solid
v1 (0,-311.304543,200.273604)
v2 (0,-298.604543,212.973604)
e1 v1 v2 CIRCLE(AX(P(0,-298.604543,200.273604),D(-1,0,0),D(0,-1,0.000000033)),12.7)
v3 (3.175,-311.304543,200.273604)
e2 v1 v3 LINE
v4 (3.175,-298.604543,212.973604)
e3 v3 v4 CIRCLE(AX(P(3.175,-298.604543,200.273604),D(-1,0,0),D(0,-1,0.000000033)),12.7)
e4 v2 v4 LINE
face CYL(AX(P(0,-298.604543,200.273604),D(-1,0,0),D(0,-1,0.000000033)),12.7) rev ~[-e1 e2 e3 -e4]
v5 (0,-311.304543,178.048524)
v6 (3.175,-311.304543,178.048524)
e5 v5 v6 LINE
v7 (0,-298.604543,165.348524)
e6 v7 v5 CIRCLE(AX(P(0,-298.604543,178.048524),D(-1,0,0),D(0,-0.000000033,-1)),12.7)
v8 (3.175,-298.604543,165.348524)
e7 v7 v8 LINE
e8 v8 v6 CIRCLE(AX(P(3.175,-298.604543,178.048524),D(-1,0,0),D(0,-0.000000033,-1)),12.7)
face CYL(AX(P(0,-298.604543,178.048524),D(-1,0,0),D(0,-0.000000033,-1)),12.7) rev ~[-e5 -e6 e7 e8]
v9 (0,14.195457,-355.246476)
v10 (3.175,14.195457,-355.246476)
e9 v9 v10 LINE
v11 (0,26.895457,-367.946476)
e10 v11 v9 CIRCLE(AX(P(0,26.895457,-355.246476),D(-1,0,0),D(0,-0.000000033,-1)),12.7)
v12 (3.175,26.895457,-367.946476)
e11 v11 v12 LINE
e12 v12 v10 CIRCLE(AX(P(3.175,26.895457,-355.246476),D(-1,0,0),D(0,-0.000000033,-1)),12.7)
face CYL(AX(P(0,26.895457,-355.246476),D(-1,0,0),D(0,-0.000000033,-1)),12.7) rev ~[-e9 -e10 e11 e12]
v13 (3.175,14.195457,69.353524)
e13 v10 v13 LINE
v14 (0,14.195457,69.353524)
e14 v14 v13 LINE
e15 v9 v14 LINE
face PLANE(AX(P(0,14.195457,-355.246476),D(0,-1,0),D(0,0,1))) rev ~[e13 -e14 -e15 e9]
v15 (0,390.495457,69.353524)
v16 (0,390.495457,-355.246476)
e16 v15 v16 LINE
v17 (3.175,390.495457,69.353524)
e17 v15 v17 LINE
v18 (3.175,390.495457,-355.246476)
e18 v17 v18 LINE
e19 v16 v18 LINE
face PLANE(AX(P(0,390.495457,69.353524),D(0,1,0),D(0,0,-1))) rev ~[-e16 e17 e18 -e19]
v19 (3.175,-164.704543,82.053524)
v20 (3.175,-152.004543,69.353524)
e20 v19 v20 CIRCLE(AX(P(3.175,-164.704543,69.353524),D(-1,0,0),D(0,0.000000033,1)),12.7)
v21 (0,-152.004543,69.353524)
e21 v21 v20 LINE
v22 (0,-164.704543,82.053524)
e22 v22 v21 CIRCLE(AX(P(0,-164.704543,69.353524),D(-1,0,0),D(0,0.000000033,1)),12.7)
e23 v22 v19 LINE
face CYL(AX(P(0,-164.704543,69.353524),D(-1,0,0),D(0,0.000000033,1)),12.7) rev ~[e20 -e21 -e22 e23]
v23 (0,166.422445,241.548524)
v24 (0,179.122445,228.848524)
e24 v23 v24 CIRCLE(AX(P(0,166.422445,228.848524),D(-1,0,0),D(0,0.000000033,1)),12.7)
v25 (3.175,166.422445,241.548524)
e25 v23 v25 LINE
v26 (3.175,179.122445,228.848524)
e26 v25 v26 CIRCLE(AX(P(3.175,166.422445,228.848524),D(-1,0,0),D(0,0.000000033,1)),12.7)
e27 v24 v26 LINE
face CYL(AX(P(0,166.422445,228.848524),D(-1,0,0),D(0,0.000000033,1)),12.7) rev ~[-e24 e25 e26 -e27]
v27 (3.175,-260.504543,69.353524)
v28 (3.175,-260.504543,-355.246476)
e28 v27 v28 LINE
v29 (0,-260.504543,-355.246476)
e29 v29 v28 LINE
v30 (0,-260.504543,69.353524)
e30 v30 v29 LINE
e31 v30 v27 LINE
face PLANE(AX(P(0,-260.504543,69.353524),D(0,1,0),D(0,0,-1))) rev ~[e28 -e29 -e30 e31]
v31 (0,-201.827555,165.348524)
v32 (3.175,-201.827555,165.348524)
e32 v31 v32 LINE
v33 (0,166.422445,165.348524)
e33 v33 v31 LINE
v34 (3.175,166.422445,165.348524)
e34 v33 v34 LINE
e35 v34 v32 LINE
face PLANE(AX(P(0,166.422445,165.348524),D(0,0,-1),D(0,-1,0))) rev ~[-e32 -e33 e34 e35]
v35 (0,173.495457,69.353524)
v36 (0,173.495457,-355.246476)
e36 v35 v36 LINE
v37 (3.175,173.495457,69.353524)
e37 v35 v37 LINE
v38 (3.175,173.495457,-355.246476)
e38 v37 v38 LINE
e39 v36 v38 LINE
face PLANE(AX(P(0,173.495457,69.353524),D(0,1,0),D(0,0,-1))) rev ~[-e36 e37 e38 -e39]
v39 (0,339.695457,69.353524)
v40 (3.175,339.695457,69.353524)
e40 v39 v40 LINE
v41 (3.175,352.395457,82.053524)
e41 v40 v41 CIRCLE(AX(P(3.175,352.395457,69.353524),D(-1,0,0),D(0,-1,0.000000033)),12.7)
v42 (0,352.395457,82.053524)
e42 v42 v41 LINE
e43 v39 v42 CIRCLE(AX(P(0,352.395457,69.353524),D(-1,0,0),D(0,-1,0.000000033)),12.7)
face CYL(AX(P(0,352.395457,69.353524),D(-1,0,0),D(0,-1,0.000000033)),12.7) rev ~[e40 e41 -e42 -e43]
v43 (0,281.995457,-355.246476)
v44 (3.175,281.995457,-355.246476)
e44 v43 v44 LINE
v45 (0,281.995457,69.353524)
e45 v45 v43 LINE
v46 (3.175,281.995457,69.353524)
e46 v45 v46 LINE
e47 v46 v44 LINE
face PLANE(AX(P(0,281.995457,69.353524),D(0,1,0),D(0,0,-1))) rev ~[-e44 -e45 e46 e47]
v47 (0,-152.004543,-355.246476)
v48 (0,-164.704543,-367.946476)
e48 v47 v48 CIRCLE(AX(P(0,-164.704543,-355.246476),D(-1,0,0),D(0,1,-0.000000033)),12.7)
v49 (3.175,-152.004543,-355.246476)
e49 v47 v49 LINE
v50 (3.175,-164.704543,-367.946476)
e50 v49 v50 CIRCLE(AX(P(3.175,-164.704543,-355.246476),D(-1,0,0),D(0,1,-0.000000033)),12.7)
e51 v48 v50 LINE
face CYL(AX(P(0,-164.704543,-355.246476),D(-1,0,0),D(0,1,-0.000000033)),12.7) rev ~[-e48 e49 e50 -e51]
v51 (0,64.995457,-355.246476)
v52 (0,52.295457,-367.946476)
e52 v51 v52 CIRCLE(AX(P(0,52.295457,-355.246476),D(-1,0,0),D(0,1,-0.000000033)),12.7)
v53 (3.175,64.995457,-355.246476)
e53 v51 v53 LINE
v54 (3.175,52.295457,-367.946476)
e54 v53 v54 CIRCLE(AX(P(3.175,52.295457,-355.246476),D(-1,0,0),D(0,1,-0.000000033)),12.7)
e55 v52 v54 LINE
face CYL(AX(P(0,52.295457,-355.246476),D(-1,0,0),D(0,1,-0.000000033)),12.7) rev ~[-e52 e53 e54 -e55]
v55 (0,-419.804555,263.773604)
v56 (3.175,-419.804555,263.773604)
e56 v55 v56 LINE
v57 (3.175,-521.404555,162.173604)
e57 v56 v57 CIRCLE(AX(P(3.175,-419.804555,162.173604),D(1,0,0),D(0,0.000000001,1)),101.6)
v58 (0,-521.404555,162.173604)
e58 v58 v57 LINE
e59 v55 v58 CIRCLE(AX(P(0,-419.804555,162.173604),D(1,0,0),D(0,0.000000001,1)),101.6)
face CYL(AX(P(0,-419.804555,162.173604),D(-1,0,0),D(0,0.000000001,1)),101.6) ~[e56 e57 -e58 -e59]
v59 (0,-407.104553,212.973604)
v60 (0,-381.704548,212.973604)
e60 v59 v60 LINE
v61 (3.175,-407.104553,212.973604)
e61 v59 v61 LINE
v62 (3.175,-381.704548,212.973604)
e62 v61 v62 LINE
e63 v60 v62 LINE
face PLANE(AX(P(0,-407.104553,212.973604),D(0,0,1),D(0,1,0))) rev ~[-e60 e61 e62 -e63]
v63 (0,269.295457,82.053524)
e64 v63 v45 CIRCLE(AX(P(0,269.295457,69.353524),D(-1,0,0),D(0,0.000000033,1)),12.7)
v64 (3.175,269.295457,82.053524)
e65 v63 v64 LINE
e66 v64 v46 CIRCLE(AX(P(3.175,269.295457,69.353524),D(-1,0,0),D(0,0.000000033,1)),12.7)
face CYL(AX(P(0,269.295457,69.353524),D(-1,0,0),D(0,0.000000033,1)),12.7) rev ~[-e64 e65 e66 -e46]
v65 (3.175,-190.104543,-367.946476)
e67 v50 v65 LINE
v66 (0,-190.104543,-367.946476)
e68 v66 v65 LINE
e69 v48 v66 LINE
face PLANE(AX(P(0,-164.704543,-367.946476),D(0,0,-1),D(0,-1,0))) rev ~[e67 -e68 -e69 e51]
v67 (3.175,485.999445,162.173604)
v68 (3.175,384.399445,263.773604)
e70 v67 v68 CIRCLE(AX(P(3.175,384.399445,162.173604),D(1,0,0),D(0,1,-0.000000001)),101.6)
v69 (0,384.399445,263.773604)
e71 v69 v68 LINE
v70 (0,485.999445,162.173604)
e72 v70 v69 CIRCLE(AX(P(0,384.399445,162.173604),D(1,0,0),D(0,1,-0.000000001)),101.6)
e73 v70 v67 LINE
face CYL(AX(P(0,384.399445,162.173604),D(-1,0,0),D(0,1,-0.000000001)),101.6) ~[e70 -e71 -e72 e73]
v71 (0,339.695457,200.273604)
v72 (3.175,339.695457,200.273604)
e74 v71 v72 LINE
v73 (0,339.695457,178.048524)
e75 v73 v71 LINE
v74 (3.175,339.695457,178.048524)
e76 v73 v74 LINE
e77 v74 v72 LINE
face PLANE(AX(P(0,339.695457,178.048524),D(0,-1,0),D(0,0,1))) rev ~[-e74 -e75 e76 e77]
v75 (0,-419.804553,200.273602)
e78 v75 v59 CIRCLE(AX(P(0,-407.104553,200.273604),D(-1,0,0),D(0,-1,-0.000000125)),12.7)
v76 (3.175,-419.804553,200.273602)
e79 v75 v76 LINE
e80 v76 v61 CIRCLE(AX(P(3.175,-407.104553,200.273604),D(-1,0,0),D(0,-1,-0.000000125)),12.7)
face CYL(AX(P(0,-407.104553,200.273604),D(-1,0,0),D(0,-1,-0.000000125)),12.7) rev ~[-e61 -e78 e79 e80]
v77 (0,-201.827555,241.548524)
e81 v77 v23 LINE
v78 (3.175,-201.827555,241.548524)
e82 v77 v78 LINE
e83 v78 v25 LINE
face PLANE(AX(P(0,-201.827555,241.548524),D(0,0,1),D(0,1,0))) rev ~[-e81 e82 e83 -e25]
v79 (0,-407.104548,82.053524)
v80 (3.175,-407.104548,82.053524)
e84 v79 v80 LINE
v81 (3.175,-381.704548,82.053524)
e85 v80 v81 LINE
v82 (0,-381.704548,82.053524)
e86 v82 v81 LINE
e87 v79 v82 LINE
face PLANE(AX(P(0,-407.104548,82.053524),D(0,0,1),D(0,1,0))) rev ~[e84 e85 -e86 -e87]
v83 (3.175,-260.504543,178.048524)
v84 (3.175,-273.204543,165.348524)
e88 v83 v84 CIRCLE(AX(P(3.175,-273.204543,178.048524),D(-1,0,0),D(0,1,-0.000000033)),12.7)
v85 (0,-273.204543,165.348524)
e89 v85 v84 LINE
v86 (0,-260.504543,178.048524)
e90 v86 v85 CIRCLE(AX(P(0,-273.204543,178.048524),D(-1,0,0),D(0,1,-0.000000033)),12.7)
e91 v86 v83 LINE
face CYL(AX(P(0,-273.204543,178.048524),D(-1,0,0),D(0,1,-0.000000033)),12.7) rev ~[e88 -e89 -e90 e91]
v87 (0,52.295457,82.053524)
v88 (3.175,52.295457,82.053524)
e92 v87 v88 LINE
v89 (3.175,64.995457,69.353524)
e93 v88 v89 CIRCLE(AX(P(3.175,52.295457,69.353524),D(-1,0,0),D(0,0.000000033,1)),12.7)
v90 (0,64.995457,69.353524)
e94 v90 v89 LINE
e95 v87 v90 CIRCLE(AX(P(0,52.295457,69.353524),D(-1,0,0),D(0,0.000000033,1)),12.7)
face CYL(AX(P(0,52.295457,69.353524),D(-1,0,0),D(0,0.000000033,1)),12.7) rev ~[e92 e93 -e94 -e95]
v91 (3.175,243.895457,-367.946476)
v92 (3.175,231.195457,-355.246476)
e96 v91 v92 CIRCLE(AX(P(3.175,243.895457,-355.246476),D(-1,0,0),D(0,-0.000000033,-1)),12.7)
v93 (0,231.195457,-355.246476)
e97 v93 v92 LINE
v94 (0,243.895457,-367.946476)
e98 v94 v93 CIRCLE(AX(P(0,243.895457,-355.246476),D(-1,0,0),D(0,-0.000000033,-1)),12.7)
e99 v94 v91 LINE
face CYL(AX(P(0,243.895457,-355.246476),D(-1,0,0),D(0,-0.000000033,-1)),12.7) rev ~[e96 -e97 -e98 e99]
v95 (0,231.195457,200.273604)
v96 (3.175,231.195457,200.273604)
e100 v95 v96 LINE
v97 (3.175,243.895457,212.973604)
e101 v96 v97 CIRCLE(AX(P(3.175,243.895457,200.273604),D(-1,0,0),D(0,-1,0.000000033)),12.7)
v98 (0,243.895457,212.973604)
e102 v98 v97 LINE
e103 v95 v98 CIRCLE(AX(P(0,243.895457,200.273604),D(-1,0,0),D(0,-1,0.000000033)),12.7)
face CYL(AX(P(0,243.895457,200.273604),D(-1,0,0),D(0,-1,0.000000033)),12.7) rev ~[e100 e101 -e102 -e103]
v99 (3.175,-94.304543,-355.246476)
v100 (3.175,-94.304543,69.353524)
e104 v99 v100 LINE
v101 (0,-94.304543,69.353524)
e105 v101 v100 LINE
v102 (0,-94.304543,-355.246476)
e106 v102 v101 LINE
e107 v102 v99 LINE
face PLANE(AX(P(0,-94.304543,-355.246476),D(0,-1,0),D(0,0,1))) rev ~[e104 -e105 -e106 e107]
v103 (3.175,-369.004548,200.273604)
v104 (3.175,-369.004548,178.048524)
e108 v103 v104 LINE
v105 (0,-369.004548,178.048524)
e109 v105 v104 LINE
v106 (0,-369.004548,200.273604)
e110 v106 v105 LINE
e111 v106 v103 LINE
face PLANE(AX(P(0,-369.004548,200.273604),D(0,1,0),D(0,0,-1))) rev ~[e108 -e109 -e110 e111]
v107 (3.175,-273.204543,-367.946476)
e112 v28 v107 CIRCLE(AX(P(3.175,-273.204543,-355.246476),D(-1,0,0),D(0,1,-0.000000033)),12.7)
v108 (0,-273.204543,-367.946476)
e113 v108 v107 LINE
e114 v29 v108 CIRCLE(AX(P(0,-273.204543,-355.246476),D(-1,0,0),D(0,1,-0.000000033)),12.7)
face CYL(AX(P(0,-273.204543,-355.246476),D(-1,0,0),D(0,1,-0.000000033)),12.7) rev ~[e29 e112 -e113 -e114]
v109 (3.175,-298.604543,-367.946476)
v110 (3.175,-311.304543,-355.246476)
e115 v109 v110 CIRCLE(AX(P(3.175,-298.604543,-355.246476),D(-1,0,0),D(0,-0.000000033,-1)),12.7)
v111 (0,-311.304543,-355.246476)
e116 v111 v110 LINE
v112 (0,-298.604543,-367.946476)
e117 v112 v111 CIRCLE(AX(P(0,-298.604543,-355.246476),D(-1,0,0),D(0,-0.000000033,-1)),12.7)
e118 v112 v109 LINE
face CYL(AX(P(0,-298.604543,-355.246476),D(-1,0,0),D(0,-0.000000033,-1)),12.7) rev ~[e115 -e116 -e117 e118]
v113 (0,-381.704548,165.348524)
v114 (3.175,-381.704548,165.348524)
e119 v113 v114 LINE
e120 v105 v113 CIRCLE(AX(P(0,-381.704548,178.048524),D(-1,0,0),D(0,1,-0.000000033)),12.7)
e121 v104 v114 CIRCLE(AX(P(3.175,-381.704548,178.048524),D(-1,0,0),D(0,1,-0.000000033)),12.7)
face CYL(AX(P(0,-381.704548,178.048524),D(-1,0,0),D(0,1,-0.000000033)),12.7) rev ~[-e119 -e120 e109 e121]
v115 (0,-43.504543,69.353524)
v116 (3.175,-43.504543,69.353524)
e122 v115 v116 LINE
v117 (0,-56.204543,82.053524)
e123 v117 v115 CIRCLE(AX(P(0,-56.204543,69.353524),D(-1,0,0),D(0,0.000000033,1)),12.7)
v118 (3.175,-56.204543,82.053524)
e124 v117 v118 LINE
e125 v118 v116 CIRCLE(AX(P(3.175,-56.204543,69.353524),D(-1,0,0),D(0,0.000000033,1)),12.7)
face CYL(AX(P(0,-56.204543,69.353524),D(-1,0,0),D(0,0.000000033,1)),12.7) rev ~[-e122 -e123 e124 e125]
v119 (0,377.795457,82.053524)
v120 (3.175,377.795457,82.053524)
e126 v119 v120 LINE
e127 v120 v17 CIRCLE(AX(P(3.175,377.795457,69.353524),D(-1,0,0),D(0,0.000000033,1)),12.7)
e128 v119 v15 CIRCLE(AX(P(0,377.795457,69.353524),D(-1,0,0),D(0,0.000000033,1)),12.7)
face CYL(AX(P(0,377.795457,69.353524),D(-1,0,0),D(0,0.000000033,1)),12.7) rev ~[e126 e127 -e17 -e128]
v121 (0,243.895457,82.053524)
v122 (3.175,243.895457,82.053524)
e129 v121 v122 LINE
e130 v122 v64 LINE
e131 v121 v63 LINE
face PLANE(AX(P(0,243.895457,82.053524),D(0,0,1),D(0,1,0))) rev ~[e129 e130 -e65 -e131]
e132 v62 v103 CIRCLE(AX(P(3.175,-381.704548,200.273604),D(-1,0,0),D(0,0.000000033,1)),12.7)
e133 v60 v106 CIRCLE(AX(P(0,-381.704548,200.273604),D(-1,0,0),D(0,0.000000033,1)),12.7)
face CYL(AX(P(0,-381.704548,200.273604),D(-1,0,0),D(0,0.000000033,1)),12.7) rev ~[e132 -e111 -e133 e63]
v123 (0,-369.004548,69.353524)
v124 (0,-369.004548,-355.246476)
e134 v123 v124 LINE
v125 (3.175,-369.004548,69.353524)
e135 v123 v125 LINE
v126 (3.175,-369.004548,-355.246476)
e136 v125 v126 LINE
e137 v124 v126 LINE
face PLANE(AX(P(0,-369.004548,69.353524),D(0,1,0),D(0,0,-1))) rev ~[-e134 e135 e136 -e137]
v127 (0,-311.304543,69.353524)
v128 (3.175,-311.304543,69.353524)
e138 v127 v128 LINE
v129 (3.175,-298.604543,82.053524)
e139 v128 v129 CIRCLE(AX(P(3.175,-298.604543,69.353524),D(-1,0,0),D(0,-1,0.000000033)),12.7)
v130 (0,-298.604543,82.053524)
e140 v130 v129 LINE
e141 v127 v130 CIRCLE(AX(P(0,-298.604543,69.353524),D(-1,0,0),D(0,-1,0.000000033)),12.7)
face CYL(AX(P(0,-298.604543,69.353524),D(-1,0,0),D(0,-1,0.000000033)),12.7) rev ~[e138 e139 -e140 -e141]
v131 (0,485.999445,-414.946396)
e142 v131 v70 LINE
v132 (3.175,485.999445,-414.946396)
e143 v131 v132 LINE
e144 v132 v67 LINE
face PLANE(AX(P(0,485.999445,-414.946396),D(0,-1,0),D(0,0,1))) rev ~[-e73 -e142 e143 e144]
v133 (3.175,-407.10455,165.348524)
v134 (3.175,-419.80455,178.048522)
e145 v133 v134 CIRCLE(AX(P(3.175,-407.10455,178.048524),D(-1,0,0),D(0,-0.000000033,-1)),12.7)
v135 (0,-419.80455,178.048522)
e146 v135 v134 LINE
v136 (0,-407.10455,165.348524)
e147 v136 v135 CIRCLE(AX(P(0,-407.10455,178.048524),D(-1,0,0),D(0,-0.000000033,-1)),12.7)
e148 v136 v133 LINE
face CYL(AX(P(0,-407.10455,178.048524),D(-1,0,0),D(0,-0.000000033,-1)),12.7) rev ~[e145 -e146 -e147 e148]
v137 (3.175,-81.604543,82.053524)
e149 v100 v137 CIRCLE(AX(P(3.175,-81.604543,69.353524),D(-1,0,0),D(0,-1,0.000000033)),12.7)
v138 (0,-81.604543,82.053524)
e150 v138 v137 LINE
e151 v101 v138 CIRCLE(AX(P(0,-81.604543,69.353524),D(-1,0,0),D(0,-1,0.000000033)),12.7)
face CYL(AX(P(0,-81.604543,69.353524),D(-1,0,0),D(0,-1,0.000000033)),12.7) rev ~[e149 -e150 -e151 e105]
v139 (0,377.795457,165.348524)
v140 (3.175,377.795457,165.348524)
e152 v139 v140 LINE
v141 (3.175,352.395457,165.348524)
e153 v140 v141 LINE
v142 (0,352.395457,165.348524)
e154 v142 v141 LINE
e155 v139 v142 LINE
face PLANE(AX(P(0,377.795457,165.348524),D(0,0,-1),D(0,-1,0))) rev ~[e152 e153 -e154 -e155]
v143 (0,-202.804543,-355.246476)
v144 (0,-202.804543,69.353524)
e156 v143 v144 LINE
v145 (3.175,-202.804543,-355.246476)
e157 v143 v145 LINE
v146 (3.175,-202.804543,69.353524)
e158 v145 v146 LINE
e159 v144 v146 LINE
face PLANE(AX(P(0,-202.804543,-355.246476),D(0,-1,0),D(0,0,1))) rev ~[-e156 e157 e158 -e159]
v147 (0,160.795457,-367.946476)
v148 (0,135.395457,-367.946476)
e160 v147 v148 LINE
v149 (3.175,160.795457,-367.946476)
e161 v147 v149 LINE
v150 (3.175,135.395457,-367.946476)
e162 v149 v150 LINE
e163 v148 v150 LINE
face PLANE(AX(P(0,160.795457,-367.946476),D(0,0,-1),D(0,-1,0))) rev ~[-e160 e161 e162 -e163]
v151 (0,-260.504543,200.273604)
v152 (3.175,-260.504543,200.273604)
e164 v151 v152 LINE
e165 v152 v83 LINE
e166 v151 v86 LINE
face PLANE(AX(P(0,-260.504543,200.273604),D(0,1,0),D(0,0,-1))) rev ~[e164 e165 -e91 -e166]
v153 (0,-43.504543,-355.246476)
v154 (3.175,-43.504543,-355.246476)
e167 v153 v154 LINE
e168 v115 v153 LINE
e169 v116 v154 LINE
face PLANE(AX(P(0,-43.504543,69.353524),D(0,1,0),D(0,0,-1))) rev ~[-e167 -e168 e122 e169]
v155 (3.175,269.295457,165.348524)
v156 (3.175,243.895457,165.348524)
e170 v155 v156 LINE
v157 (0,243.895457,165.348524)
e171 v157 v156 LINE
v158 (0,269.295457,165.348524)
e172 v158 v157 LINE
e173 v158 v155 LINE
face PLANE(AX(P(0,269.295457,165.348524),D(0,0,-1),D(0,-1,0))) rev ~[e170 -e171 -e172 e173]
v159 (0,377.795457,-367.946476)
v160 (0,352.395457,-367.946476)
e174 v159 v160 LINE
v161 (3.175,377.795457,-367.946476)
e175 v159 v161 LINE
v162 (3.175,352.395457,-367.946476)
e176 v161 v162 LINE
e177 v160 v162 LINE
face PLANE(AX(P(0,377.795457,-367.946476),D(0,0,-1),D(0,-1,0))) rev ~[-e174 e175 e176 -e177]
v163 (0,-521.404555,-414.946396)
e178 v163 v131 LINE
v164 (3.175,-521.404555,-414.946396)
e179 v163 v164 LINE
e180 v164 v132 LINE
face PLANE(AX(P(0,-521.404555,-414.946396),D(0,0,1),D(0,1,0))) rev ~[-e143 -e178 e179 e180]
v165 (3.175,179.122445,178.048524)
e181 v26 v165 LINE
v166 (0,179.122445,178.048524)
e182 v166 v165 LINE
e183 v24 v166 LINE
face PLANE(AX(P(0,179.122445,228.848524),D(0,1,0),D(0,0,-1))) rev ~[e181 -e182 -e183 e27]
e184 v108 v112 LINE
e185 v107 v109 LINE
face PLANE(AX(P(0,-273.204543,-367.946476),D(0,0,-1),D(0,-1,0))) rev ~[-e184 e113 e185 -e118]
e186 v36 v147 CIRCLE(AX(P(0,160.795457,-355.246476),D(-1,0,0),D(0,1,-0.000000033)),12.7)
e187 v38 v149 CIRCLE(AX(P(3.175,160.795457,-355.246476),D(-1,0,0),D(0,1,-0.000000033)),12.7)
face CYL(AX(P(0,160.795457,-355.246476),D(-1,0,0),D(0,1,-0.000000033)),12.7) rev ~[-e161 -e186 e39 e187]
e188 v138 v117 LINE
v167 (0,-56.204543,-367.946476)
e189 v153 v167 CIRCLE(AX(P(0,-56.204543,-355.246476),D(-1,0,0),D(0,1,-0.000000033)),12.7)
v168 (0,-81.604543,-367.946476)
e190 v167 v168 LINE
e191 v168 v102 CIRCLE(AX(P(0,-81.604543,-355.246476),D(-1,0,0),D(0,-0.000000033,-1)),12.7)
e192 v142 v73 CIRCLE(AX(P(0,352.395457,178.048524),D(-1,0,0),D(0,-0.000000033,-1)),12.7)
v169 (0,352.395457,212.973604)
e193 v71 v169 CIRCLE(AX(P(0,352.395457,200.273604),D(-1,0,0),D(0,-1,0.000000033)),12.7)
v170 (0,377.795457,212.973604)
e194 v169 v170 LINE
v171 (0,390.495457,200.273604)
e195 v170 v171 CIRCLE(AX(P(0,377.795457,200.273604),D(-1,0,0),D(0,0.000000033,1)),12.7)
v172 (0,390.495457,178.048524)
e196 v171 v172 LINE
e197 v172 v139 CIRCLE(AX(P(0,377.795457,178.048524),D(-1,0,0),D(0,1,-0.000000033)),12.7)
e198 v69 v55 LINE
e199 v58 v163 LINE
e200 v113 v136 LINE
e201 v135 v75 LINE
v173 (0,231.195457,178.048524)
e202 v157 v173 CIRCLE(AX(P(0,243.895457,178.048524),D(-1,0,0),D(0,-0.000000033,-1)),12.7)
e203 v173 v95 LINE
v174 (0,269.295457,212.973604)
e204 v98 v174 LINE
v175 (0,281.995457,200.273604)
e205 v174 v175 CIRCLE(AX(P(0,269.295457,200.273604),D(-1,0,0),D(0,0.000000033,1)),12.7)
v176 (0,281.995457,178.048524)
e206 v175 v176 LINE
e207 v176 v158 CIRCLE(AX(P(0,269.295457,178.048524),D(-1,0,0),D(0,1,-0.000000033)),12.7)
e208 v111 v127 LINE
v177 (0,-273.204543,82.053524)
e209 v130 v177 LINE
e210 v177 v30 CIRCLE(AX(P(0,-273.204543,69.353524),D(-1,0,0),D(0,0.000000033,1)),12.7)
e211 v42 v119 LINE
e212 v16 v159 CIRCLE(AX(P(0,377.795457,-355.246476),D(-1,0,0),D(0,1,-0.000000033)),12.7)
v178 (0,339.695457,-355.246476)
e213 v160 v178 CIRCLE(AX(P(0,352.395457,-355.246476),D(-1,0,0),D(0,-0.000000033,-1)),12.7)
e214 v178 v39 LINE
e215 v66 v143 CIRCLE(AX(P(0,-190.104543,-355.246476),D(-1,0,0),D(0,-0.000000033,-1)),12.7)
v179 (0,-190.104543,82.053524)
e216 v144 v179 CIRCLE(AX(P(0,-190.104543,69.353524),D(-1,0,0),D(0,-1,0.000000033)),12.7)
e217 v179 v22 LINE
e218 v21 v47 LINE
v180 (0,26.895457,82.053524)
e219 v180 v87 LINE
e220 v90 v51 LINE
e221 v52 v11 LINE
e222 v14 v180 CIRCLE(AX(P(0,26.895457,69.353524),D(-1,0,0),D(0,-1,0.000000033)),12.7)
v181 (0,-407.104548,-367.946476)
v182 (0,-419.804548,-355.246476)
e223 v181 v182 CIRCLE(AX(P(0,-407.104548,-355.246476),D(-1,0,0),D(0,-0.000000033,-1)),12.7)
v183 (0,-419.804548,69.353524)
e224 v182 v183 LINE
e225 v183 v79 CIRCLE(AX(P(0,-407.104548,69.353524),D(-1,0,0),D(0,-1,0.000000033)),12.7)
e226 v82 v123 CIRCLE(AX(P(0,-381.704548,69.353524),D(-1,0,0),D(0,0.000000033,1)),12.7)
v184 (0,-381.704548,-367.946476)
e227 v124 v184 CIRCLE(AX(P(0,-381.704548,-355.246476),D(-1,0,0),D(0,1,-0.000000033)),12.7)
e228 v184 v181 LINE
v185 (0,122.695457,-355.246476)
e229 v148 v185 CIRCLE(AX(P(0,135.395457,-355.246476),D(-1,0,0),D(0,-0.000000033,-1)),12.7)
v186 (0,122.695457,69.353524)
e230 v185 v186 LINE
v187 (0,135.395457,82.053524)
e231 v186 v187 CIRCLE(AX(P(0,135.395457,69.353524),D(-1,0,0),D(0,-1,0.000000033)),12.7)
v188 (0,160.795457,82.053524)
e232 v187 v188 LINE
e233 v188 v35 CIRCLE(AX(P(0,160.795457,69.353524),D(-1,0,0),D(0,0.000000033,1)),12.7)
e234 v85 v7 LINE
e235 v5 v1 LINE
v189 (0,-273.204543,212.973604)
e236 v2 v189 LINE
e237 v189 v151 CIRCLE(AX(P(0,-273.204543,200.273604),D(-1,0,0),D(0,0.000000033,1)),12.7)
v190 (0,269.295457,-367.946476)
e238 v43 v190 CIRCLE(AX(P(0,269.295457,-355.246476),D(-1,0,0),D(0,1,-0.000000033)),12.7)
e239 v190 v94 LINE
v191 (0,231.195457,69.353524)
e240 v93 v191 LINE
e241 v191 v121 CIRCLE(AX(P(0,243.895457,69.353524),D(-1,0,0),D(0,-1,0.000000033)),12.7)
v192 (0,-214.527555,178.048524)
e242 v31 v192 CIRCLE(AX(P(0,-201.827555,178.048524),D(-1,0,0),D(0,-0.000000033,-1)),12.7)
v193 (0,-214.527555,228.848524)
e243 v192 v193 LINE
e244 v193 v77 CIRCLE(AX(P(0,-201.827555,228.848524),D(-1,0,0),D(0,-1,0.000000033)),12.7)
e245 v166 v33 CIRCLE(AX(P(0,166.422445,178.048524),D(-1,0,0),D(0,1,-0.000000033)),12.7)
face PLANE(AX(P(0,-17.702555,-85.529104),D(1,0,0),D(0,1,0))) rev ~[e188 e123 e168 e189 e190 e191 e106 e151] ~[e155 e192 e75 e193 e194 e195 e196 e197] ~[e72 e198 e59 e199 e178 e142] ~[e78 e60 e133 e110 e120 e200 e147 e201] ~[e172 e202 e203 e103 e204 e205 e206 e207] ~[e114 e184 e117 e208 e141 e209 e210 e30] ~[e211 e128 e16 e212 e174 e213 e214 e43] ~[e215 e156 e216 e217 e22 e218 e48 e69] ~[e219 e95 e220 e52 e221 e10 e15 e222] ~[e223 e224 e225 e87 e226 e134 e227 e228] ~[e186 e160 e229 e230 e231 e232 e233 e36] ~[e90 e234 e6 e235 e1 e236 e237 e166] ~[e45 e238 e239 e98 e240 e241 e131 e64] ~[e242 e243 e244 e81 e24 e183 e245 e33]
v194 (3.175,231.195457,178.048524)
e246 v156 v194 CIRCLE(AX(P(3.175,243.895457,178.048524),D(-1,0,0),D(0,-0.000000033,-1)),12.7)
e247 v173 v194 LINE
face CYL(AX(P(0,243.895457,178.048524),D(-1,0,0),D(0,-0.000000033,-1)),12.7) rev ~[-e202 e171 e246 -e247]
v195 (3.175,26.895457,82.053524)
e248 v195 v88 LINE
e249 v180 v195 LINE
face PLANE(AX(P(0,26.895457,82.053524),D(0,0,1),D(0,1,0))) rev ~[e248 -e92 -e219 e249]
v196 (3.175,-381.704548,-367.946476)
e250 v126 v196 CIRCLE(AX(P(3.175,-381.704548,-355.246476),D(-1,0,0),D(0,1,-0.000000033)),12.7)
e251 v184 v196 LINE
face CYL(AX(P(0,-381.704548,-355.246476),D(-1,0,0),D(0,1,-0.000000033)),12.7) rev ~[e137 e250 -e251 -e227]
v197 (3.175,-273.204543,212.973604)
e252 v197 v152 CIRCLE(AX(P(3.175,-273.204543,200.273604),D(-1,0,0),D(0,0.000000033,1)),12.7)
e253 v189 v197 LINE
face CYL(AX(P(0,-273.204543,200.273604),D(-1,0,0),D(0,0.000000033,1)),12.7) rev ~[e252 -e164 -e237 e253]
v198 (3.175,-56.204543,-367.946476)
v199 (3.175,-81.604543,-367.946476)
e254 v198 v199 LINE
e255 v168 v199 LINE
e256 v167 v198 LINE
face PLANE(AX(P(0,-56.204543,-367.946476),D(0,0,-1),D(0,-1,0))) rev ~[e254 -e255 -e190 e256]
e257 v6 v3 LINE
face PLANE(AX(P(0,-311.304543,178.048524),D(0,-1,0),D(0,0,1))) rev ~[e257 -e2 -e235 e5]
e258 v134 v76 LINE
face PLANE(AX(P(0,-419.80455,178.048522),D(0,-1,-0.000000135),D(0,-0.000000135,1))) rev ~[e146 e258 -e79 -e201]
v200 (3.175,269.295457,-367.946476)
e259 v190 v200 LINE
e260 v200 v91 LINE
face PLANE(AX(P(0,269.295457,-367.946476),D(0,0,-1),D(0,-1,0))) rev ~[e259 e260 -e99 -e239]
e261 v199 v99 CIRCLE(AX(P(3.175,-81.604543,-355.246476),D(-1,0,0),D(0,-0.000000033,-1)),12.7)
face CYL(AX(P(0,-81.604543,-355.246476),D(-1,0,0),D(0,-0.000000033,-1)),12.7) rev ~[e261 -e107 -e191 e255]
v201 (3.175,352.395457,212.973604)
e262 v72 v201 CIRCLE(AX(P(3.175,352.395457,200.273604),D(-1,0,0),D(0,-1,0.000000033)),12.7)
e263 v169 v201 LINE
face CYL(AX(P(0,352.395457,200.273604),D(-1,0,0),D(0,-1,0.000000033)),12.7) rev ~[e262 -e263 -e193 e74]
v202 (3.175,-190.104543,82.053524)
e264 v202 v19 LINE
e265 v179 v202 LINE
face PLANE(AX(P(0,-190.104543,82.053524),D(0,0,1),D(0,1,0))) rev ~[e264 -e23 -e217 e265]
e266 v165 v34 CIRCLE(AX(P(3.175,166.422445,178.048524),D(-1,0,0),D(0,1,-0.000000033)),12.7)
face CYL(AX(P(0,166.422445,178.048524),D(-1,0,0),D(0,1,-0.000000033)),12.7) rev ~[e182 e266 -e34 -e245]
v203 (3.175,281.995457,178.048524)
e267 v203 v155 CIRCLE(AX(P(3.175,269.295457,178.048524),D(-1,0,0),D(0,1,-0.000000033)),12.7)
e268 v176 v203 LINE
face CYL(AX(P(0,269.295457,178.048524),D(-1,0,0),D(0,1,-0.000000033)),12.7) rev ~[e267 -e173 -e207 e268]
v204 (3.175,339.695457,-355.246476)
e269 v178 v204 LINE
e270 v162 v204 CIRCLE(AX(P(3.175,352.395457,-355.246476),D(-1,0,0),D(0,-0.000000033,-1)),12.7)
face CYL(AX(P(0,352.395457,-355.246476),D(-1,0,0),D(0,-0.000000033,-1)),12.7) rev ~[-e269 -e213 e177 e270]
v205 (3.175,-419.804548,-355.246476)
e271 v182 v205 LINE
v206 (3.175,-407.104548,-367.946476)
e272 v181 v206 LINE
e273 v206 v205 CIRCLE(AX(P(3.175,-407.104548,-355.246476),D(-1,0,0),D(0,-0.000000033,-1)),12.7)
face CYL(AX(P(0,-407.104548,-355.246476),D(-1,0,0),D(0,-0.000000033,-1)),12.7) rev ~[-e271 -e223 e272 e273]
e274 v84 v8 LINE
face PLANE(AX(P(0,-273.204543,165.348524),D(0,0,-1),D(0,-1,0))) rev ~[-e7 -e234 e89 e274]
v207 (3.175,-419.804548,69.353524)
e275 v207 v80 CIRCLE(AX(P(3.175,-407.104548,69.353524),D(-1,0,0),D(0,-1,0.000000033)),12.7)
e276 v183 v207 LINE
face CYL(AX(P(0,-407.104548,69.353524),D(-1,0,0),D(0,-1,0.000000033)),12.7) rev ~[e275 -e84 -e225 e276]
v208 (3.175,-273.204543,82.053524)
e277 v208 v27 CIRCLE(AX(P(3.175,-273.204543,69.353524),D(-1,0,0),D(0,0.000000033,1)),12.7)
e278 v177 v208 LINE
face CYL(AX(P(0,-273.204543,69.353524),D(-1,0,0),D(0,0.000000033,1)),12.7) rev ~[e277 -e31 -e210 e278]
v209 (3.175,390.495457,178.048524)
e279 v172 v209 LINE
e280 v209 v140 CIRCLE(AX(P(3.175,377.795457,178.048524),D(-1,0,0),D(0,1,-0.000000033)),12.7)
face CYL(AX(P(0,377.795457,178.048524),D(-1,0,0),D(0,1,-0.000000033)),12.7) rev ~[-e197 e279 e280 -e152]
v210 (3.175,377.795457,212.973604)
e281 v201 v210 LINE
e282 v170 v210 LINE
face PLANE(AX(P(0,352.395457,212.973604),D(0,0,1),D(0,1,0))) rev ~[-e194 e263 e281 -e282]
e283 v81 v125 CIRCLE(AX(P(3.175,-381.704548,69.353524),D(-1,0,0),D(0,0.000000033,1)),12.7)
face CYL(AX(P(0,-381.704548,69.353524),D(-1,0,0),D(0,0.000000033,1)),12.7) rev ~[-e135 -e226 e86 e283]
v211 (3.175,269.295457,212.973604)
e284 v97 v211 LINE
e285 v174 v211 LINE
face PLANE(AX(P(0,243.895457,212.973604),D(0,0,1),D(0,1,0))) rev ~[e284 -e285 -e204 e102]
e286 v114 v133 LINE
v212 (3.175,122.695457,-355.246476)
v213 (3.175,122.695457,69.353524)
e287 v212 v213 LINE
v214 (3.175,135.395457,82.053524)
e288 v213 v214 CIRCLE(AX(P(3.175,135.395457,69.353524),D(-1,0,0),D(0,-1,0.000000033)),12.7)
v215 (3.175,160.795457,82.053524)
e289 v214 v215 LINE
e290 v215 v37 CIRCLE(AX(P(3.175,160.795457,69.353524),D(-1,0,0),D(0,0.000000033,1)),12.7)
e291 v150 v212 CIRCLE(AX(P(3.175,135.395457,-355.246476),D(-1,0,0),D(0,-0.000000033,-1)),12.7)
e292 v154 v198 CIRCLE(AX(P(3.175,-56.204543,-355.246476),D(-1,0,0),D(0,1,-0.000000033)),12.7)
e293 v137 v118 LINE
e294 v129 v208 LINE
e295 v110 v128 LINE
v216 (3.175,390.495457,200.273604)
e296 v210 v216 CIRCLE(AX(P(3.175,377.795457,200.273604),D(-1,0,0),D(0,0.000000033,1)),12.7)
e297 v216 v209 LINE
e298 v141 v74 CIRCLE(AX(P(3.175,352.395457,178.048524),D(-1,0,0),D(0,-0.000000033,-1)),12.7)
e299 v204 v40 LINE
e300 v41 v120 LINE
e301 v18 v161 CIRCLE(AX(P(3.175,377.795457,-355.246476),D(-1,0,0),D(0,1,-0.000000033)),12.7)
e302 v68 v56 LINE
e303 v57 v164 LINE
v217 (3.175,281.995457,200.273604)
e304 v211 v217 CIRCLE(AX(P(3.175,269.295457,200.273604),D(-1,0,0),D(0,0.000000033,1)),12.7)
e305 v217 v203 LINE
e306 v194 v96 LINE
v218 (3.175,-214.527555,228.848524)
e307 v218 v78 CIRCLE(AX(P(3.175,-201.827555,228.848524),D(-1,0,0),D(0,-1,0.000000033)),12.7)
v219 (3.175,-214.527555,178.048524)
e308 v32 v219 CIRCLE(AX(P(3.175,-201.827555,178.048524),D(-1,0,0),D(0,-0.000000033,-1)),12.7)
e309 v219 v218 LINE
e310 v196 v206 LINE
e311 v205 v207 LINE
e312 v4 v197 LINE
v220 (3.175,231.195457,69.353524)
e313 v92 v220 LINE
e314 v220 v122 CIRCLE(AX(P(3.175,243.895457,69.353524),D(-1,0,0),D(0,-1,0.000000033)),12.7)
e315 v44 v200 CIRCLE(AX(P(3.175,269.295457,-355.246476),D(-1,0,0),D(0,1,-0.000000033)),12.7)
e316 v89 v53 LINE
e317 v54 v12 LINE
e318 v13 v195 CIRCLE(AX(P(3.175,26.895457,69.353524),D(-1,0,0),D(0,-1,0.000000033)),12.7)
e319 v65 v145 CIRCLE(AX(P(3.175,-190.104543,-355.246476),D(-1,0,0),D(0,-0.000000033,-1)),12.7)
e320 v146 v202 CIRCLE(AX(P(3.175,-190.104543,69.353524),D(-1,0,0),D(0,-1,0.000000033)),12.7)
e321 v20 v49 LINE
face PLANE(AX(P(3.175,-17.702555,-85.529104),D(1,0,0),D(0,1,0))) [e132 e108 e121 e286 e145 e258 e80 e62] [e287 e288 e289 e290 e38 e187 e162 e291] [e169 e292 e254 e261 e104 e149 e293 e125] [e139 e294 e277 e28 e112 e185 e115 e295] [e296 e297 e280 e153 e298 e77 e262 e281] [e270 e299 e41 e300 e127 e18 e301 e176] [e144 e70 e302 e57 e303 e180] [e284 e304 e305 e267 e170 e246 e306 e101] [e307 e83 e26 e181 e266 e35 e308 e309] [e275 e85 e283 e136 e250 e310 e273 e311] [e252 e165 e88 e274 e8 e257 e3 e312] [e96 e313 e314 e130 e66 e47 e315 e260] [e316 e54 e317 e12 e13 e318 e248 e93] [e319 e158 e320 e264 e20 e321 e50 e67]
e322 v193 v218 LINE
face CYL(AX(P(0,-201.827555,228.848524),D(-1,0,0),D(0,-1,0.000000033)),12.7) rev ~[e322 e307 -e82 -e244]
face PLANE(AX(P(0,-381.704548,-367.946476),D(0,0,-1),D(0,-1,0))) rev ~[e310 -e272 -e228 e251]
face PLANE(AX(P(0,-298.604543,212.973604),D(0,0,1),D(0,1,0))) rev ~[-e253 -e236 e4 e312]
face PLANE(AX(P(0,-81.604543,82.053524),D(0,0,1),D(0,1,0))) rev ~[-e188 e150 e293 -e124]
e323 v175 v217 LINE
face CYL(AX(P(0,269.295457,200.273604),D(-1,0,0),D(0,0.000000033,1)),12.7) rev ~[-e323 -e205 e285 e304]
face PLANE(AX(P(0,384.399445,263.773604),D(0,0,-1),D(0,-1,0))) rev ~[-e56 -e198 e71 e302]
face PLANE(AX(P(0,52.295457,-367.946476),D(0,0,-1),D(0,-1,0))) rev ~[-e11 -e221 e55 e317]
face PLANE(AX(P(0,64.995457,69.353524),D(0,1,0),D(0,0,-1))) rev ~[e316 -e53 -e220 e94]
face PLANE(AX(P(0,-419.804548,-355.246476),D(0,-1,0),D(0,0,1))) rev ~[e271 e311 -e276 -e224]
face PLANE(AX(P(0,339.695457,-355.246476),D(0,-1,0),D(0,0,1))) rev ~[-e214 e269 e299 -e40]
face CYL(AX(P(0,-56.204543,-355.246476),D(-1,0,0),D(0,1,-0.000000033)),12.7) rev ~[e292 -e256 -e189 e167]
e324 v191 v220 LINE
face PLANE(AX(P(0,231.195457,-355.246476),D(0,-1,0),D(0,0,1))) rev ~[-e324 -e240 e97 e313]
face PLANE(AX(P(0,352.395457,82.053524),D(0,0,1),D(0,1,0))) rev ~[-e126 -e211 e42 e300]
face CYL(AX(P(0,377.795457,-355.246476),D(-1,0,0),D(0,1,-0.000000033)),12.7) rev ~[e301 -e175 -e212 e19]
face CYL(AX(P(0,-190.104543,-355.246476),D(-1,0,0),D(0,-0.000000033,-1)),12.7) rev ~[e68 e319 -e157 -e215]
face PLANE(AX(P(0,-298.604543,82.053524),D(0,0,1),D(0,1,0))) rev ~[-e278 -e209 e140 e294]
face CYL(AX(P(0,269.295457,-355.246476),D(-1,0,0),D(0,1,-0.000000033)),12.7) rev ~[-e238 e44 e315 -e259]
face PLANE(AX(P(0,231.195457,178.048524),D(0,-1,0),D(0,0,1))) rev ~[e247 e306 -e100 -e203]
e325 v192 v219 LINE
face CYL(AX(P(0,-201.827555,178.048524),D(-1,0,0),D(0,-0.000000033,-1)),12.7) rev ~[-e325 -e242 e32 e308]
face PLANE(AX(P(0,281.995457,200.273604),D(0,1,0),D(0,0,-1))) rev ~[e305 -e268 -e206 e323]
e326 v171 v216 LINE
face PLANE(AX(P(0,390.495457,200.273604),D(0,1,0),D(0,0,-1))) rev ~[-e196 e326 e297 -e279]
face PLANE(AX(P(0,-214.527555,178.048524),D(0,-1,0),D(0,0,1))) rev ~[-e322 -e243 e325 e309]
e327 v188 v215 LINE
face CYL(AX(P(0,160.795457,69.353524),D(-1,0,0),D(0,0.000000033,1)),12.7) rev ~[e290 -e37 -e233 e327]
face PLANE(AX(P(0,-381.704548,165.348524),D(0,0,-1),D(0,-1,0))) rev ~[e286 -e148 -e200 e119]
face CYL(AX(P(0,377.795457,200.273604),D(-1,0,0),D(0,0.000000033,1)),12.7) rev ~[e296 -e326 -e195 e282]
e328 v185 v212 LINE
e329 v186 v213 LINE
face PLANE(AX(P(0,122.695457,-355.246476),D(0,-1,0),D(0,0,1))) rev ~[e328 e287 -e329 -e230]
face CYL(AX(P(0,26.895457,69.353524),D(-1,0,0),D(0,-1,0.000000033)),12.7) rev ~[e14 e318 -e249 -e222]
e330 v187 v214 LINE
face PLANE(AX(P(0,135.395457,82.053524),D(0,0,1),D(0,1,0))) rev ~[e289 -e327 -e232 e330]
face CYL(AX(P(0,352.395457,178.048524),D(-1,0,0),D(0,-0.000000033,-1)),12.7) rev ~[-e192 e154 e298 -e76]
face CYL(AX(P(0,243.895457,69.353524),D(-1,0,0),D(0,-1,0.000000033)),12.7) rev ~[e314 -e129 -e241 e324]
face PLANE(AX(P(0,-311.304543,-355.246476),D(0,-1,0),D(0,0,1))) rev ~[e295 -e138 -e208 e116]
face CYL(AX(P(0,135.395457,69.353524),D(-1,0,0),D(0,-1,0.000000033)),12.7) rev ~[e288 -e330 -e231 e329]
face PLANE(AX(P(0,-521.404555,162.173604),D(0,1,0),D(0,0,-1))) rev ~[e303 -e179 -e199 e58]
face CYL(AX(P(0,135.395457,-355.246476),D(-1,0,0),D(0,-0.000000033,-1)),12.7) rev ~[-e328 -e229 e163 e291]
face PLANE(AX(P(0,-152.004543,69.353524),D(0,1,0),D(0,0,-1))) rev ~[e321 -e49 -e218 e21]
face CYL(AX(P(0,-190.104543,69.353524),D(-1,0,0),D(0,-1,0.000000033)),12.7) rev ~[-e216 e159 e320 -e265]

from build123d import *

# Parameters (mm, degrees)
F1_DEPTH = 3.175


with BuildPart() as f1:
    # F0 (on Right) → F1 (new body)
    with BuildSketch(Plane.YZ):
        with BuildLine():
            ThreePointArc((-419.804555, 263.773604), (-491.646604, 234.015653), (-521.404555, 162.173604))
            Line((-521.404555, 162.173604), (-521.404555, -414.946396))
            Line((-521.404555, -414.946396), (485.999445, -414.946396))
            Line((485.999445, -414.946396), (485.999445, 162.173604))
            ThreePointArc((485.999445, 162.173604), (456.241494, 234.015653), (384.399445, 263.773604))
            Line((384.399445, 263.773604), (-17.702555, 263.773604))
            Line((-17.702555, 263.773604), (-419.804555, 263.773604))
        make_face()
        with BuildLine():
            ThreePointArc((-419.804548, 69.353524), (-416.084804, 78.33378), (-407.104548, 82.053524))
            Line((-407.104548, 82.053524), (-381.704548, 82.053524))
            ThreePointArc((-381.704548, 82.053524), (-372.724292, 78.33378), (-369.004548, 69.353524))
            Line((-369.004548, 69.353524), (-369.004548, -355.246476))
            ThreePointArc((-369.004548, -355.246476), (-372.724292, -364.226732), (-381.704548, -367.946476))
            Line((-381.704548, -367.946476), (-407.104548, -367.946476))
            ThreePointArc((-407.104548, -367.946476), (-416.084804, -364.226732), (-419.804548, -355.246476))
            Line((-419.804548, -355.246476), (-419.804548, 69.353524))
        make_face(mode=Mode.SUBTRACT)
        with BuildLine():
            Line((-311.304543, -355.246476), (-311.304543, 69.353524))
            ThreePointArc((-311.304543, 69.353524), (-307.584799, 78.33378), (-298.604543, 82.053524))
            Line((-298.604543, 82.053524), (-273.204543, 82.053524))
            ThreePointArc((-273.204543, 82.053524), (-264.224287, 78.33378), (-260.504543, 69.353524))
            Line((-260.504543, 69.353524), (-260.504543, -355.246476))
            ThreePointArc((-260.504543, -355.246476), (-264.224287, -364.226732), (-273.204543, -367.946476))
            Line((-273.204543, -367.946476), (-298.604543, -367.946476))
            ThreePointArc((-298.604543, -367.946476), (-307.584799, -364.226732), (-311.304543, -355.246476))
        make_face(mode=Mode.SUBTRACT)
        with BuildLine():
            Line((-202.804543, -355.246476), (-202.804543, 69.353524))
            ThreePointArc((-202.804543, 69.353524), (-199.084799, 78.33378), (-190.104543, 82.053524))
            Line((-190.104543, 82.053524), (-164.704543, 82.053524))
            ThreePointArc((-164.704543, 82.053524), (-155.724287, 78.33378), (-152.004543, 69.353524))
            Line((-152.004543, 69.353524), (-152.004543, -355.246476))
            ThreePointArc((-152.004543, -355.246476), (-155.724287, -364.226732), (-164.704543, -367.946476))
            Line((-164.704543, -367.946476), (-190.104543, -367.946476))
            ThreePointArc((-190.104543, -367.946476), (-199.084799, -364.226732), (-202.804543, -355.246476))
        make_face(mode=Mode.SUBTRACT)
        with BuildLine():
            Line((-94.304543, -355.246476), (-94.304543, 69.353524))
            ThreePointArc((-94.304543, 69.353524), (-90.584799, 78.33378), (-81.604543, 82.053524))
            Line((-81.604543, 82.053524), (-56.204543, 82.053524))
            ThreePointArc((-56.204543, 82.053524), (-47.224287, 78.33378), (-43.504543, 69.353524))
            Line((-43.504543, 69.353524), (-43.504543, -355.246476))
            ThreePointArc((-43.504543, -355.246476), (-47.224287, -364.226732), (-56.204543, -367.946476))
            Line((-56.204543, -367.946476), (-81.604543, -367.946476))
            ThreePointArc((-81.604543, -367.946476), (-90.584799, -364.226732), (-94.304543, -355.246476))
        make_face(mode=Mode.SUBTRACT)
        with BuildLine():
            Line((14.195457, -355.246476), (14.195457, 69.353524))
            ThreePointArc((14.195457, 69.353524), (17.915201, 78.33378), (26.895457, 82.053524))
            Line((26.895457, 82.053524), (52.295457, 82.053524))
            ThreePointArc((52.295457, 82.053524), (61.275713, 78.33378), (64.995457, 69.353524))
            Line((64.995457, 69.353524), (64.995457, -355.246476))
            ThreePointArc((64.995457, -355.246476), (61.275713, -364.226732), (52.295457, -367.946476))
            Line((52.295457, -367.946476), (26.895457, -367.946476))
            ThreePointArc((26.895457, -367.946476), (17.915201, -364.226732), (14.195457, -355.246476))
        make_face(mode=Mode.SUBTRACT)
        with BuildLine():
            Line((122.695457, -355.246476), (122.695457, 69.353524))
            ThreePointArc((122.695457, 69.353524), (126.415201, 78.33378), (135.395457, 82.053524))
            Line((135.395457, 82.053524), (160.795457, 82.053524))
            ThreePointArc((160.795457, 82.053524), (169.775713, 78.33378), (173.495457, 69.353524))
            Line((173.495457, 69.353524), (173.495457, -355.246476))
            ThreePointArc((173.495457, -355.246476), (169.775713, -364.226732), (160.795457, -367.946476))
            Line((160.795457, -367.946476), (135.395457, -367.946476))
            ThreePointArc((135.395457, -367.946476), (126.415201, -364.226732), (122.695457, -355.246476))
        make_face(mode=Mode.SUBTRACT)
        with BuildLine():
            Line((231.195457, -355.246476), (231.195457, 69.353524))
            ThreePointArc((231.195457, 69.353524), (234.915201, 78.33378), (243.895457, 82.053524))
            Line((243.895457, 82.053524), (269.295457, 82.053524))
            ThreePointArc((269.295457, 82.053524), (278.275713, 78.33378), (281.995457, 69.353524))
            Line((281.995457, 69.353524), (281.995457, -355.246476))
            ThreePointArc((281.995457, -355.246476), (278.275713, -364.226732), (269.295457, -367.946476))
            Line((269.295457, -367.946476), (243.895457, -367.946476))
            ThreePointArc((243.895457, -367.946476), (234.915201, -364.226732), (231.195457, -355.246476))
        make_face(mode=Mode.SUBTRACT)
        with BuildLine():
            Line((339.695457, -355.246476), (339.695457, 69.353524))
            ThreePointArc((339.695457, 69.353524), (343.415201, 78.33378), (352.395457, 82.053524))
            Line((352.395457, 82.053524), (377.795457, 82.053524))
            ThreePointArc((377.795457, 82.053524), (386.775713, 78.33378), (390.495457, 69.353524))
            Line((390.495457, 69.353524), (390.495457, -355.246476))
            ThreePointArc((390.495457, -355.246476), (386.775713, -364.226732), (377.795457, -367.946476))
            Line((377.795457, -367.946476), (352.395457, -367.946476))
            ThreePointArc((352.395457, -367.946476), (343.415201, -364.226732), (339.695457, -355.246476))
        make_face(mode=Mode.SUBTRACT)
        with BuildLine():
            ThreePointArc((-419.804553, 200.273602), (-416.08481, 209.253859), (-407.104553, 212.973604))
            Line((-407.104553, 212.973604), (-381.704548, 212.973604))
            ThreePointArc((-381.704548, 212.973604), (-372.724292, 209.25386), (-369.004548, 200.273604))
            Line((-369.004548, 200.273604), (-369.004548, 178.048524))
            ThreePointArc((-369.004548, 178.048524), (-372.724292, 169.068268), (-381.704548, 165.348524))
            Line((-381.704548, 165.348524), (-407.10455, 165.348524))
            ThreePointArc((-407.10455, 165.348524), (-416.084805, 169.068267), (-419.80455, 178.048522))
            Line((-419.80455, 178.048522), (-419.804553, 200.273602))
        make_face(mode=Mode.SUBTRACT)
        with BuildLine():
            ThreePointArc((-298.604543, 165.348524), (-307.584799, 169.068268), (-311.304543, 178.048524))
            Line((-311.304543, 178.048524), (-311.304543, 200.273604))
            ThreePointArc((-311.304543, 200.273604), (-307.584799, 209.25386), (-298.604543, 212.973604))
            Line((-298.604543, 212.973604), (-273.204543, 212.973604))
            ThreePointArc((-273.204543, 212.973604), (-264.224287, 209.25386), (-260.504543, 200.273604))
            Line((-260.504543, 200.273604), (-260.504543, 178.048524))
            ThreePointArc((-260.504543, 178.048524), (-264.224287, 169.068268), (-273.204543, 165.348524))
            Line((-273.204543, 165.348524), (-298.604543, 165.348524))
        make_face(mode=Mode.SUBTRACT)
        with BuildLine():
            Line((-201.827555, 241.548524), (-17.702555, 241.548524))
            Line((-17.702555, 241.548524), (166.422445, 241.548524))
            ThreePointArc((166.422445, 241.548524), (175.402701, 237.82878), (179.122445, 228.848524))
            Line((179.122445, 228.848524), (179.122445, 178.048524))
            ThreePointArc((179.122445, 178.048524), (175.402701, 169.068268), (166.422445, 165.348524))
            Line((166.422445, 165.348524), (-201.827555, 165.348524))
            ThreePointArc((-201.827555, 165.348524), (-210.807811, 169.068268), (-214.527555, 178.048524))
            Line((-214.527555, 178.048524), (-214.527555, 228.848524))
            ThreePointArc((-214.527555, 228.848524), (-210.807811, 237.82878), (-201.827555, 241.548524))
        make_face(mode=Mode.SUBTRACT)
        with BuildLine():
            ThreePointArc((243.895457, 165.348524), (234.915201, 169.068268), (231.195457, 178.048524))
            Line((231.195457, 178.048524), (231.195457, 200.273604))
            ThreePointArc((231.195457, 200.273604), (234.915201, 209.25386), (243.895457, 212.973604))
            Line((243.895457, 212.973604), (269.295457, 212.973604))
            ThreePointArc((269.295457, 212.973604), (278.275713, 209.25386), (281.995457, 200.273604))
            Line((281.995457, 200.273604), (281.995457, 178.048524))
            ThreePointArc((281.995457, 178.048524), (278.275713, 169.068268), (269.295457, 165.348524))
            Line((269.295457, 165.348524), (243.895457, 165.348524))
        make_face(mode=Mode.SUBTRACT)
        with BuildLine():
            ThreePointArc((352.395457, 165.348524), (343.415201, 169.068268), (339.695457, 178.048524))
            Line((339.695457, 178.048524), (339.695457, 200.273604))
            ThreePointArc((339.695457, 200.273604), (343.415201, 209.25386), (352.395457, 212.973604))
            Line((352.395457, 212.973604), (377.795457, 212.973604))
            ThreePointArc((377.795457, 212.973604), (386.775713, 209.25386), (390.495457, 200.273604))
            Line((390.495457, 200.273604), (390.495457, 178.048524))
            ThreePointArc((390.495457, 178.048524), (386.775713, 169.068268), (377.795457, 165.348524))
            Line((377.795457, 165.348524), (352.395457, 165.348524))
        make_face(mode=Mode.SUBTRACT)
    extrude(amount=F1_DEPTH)


solid = f1.part
